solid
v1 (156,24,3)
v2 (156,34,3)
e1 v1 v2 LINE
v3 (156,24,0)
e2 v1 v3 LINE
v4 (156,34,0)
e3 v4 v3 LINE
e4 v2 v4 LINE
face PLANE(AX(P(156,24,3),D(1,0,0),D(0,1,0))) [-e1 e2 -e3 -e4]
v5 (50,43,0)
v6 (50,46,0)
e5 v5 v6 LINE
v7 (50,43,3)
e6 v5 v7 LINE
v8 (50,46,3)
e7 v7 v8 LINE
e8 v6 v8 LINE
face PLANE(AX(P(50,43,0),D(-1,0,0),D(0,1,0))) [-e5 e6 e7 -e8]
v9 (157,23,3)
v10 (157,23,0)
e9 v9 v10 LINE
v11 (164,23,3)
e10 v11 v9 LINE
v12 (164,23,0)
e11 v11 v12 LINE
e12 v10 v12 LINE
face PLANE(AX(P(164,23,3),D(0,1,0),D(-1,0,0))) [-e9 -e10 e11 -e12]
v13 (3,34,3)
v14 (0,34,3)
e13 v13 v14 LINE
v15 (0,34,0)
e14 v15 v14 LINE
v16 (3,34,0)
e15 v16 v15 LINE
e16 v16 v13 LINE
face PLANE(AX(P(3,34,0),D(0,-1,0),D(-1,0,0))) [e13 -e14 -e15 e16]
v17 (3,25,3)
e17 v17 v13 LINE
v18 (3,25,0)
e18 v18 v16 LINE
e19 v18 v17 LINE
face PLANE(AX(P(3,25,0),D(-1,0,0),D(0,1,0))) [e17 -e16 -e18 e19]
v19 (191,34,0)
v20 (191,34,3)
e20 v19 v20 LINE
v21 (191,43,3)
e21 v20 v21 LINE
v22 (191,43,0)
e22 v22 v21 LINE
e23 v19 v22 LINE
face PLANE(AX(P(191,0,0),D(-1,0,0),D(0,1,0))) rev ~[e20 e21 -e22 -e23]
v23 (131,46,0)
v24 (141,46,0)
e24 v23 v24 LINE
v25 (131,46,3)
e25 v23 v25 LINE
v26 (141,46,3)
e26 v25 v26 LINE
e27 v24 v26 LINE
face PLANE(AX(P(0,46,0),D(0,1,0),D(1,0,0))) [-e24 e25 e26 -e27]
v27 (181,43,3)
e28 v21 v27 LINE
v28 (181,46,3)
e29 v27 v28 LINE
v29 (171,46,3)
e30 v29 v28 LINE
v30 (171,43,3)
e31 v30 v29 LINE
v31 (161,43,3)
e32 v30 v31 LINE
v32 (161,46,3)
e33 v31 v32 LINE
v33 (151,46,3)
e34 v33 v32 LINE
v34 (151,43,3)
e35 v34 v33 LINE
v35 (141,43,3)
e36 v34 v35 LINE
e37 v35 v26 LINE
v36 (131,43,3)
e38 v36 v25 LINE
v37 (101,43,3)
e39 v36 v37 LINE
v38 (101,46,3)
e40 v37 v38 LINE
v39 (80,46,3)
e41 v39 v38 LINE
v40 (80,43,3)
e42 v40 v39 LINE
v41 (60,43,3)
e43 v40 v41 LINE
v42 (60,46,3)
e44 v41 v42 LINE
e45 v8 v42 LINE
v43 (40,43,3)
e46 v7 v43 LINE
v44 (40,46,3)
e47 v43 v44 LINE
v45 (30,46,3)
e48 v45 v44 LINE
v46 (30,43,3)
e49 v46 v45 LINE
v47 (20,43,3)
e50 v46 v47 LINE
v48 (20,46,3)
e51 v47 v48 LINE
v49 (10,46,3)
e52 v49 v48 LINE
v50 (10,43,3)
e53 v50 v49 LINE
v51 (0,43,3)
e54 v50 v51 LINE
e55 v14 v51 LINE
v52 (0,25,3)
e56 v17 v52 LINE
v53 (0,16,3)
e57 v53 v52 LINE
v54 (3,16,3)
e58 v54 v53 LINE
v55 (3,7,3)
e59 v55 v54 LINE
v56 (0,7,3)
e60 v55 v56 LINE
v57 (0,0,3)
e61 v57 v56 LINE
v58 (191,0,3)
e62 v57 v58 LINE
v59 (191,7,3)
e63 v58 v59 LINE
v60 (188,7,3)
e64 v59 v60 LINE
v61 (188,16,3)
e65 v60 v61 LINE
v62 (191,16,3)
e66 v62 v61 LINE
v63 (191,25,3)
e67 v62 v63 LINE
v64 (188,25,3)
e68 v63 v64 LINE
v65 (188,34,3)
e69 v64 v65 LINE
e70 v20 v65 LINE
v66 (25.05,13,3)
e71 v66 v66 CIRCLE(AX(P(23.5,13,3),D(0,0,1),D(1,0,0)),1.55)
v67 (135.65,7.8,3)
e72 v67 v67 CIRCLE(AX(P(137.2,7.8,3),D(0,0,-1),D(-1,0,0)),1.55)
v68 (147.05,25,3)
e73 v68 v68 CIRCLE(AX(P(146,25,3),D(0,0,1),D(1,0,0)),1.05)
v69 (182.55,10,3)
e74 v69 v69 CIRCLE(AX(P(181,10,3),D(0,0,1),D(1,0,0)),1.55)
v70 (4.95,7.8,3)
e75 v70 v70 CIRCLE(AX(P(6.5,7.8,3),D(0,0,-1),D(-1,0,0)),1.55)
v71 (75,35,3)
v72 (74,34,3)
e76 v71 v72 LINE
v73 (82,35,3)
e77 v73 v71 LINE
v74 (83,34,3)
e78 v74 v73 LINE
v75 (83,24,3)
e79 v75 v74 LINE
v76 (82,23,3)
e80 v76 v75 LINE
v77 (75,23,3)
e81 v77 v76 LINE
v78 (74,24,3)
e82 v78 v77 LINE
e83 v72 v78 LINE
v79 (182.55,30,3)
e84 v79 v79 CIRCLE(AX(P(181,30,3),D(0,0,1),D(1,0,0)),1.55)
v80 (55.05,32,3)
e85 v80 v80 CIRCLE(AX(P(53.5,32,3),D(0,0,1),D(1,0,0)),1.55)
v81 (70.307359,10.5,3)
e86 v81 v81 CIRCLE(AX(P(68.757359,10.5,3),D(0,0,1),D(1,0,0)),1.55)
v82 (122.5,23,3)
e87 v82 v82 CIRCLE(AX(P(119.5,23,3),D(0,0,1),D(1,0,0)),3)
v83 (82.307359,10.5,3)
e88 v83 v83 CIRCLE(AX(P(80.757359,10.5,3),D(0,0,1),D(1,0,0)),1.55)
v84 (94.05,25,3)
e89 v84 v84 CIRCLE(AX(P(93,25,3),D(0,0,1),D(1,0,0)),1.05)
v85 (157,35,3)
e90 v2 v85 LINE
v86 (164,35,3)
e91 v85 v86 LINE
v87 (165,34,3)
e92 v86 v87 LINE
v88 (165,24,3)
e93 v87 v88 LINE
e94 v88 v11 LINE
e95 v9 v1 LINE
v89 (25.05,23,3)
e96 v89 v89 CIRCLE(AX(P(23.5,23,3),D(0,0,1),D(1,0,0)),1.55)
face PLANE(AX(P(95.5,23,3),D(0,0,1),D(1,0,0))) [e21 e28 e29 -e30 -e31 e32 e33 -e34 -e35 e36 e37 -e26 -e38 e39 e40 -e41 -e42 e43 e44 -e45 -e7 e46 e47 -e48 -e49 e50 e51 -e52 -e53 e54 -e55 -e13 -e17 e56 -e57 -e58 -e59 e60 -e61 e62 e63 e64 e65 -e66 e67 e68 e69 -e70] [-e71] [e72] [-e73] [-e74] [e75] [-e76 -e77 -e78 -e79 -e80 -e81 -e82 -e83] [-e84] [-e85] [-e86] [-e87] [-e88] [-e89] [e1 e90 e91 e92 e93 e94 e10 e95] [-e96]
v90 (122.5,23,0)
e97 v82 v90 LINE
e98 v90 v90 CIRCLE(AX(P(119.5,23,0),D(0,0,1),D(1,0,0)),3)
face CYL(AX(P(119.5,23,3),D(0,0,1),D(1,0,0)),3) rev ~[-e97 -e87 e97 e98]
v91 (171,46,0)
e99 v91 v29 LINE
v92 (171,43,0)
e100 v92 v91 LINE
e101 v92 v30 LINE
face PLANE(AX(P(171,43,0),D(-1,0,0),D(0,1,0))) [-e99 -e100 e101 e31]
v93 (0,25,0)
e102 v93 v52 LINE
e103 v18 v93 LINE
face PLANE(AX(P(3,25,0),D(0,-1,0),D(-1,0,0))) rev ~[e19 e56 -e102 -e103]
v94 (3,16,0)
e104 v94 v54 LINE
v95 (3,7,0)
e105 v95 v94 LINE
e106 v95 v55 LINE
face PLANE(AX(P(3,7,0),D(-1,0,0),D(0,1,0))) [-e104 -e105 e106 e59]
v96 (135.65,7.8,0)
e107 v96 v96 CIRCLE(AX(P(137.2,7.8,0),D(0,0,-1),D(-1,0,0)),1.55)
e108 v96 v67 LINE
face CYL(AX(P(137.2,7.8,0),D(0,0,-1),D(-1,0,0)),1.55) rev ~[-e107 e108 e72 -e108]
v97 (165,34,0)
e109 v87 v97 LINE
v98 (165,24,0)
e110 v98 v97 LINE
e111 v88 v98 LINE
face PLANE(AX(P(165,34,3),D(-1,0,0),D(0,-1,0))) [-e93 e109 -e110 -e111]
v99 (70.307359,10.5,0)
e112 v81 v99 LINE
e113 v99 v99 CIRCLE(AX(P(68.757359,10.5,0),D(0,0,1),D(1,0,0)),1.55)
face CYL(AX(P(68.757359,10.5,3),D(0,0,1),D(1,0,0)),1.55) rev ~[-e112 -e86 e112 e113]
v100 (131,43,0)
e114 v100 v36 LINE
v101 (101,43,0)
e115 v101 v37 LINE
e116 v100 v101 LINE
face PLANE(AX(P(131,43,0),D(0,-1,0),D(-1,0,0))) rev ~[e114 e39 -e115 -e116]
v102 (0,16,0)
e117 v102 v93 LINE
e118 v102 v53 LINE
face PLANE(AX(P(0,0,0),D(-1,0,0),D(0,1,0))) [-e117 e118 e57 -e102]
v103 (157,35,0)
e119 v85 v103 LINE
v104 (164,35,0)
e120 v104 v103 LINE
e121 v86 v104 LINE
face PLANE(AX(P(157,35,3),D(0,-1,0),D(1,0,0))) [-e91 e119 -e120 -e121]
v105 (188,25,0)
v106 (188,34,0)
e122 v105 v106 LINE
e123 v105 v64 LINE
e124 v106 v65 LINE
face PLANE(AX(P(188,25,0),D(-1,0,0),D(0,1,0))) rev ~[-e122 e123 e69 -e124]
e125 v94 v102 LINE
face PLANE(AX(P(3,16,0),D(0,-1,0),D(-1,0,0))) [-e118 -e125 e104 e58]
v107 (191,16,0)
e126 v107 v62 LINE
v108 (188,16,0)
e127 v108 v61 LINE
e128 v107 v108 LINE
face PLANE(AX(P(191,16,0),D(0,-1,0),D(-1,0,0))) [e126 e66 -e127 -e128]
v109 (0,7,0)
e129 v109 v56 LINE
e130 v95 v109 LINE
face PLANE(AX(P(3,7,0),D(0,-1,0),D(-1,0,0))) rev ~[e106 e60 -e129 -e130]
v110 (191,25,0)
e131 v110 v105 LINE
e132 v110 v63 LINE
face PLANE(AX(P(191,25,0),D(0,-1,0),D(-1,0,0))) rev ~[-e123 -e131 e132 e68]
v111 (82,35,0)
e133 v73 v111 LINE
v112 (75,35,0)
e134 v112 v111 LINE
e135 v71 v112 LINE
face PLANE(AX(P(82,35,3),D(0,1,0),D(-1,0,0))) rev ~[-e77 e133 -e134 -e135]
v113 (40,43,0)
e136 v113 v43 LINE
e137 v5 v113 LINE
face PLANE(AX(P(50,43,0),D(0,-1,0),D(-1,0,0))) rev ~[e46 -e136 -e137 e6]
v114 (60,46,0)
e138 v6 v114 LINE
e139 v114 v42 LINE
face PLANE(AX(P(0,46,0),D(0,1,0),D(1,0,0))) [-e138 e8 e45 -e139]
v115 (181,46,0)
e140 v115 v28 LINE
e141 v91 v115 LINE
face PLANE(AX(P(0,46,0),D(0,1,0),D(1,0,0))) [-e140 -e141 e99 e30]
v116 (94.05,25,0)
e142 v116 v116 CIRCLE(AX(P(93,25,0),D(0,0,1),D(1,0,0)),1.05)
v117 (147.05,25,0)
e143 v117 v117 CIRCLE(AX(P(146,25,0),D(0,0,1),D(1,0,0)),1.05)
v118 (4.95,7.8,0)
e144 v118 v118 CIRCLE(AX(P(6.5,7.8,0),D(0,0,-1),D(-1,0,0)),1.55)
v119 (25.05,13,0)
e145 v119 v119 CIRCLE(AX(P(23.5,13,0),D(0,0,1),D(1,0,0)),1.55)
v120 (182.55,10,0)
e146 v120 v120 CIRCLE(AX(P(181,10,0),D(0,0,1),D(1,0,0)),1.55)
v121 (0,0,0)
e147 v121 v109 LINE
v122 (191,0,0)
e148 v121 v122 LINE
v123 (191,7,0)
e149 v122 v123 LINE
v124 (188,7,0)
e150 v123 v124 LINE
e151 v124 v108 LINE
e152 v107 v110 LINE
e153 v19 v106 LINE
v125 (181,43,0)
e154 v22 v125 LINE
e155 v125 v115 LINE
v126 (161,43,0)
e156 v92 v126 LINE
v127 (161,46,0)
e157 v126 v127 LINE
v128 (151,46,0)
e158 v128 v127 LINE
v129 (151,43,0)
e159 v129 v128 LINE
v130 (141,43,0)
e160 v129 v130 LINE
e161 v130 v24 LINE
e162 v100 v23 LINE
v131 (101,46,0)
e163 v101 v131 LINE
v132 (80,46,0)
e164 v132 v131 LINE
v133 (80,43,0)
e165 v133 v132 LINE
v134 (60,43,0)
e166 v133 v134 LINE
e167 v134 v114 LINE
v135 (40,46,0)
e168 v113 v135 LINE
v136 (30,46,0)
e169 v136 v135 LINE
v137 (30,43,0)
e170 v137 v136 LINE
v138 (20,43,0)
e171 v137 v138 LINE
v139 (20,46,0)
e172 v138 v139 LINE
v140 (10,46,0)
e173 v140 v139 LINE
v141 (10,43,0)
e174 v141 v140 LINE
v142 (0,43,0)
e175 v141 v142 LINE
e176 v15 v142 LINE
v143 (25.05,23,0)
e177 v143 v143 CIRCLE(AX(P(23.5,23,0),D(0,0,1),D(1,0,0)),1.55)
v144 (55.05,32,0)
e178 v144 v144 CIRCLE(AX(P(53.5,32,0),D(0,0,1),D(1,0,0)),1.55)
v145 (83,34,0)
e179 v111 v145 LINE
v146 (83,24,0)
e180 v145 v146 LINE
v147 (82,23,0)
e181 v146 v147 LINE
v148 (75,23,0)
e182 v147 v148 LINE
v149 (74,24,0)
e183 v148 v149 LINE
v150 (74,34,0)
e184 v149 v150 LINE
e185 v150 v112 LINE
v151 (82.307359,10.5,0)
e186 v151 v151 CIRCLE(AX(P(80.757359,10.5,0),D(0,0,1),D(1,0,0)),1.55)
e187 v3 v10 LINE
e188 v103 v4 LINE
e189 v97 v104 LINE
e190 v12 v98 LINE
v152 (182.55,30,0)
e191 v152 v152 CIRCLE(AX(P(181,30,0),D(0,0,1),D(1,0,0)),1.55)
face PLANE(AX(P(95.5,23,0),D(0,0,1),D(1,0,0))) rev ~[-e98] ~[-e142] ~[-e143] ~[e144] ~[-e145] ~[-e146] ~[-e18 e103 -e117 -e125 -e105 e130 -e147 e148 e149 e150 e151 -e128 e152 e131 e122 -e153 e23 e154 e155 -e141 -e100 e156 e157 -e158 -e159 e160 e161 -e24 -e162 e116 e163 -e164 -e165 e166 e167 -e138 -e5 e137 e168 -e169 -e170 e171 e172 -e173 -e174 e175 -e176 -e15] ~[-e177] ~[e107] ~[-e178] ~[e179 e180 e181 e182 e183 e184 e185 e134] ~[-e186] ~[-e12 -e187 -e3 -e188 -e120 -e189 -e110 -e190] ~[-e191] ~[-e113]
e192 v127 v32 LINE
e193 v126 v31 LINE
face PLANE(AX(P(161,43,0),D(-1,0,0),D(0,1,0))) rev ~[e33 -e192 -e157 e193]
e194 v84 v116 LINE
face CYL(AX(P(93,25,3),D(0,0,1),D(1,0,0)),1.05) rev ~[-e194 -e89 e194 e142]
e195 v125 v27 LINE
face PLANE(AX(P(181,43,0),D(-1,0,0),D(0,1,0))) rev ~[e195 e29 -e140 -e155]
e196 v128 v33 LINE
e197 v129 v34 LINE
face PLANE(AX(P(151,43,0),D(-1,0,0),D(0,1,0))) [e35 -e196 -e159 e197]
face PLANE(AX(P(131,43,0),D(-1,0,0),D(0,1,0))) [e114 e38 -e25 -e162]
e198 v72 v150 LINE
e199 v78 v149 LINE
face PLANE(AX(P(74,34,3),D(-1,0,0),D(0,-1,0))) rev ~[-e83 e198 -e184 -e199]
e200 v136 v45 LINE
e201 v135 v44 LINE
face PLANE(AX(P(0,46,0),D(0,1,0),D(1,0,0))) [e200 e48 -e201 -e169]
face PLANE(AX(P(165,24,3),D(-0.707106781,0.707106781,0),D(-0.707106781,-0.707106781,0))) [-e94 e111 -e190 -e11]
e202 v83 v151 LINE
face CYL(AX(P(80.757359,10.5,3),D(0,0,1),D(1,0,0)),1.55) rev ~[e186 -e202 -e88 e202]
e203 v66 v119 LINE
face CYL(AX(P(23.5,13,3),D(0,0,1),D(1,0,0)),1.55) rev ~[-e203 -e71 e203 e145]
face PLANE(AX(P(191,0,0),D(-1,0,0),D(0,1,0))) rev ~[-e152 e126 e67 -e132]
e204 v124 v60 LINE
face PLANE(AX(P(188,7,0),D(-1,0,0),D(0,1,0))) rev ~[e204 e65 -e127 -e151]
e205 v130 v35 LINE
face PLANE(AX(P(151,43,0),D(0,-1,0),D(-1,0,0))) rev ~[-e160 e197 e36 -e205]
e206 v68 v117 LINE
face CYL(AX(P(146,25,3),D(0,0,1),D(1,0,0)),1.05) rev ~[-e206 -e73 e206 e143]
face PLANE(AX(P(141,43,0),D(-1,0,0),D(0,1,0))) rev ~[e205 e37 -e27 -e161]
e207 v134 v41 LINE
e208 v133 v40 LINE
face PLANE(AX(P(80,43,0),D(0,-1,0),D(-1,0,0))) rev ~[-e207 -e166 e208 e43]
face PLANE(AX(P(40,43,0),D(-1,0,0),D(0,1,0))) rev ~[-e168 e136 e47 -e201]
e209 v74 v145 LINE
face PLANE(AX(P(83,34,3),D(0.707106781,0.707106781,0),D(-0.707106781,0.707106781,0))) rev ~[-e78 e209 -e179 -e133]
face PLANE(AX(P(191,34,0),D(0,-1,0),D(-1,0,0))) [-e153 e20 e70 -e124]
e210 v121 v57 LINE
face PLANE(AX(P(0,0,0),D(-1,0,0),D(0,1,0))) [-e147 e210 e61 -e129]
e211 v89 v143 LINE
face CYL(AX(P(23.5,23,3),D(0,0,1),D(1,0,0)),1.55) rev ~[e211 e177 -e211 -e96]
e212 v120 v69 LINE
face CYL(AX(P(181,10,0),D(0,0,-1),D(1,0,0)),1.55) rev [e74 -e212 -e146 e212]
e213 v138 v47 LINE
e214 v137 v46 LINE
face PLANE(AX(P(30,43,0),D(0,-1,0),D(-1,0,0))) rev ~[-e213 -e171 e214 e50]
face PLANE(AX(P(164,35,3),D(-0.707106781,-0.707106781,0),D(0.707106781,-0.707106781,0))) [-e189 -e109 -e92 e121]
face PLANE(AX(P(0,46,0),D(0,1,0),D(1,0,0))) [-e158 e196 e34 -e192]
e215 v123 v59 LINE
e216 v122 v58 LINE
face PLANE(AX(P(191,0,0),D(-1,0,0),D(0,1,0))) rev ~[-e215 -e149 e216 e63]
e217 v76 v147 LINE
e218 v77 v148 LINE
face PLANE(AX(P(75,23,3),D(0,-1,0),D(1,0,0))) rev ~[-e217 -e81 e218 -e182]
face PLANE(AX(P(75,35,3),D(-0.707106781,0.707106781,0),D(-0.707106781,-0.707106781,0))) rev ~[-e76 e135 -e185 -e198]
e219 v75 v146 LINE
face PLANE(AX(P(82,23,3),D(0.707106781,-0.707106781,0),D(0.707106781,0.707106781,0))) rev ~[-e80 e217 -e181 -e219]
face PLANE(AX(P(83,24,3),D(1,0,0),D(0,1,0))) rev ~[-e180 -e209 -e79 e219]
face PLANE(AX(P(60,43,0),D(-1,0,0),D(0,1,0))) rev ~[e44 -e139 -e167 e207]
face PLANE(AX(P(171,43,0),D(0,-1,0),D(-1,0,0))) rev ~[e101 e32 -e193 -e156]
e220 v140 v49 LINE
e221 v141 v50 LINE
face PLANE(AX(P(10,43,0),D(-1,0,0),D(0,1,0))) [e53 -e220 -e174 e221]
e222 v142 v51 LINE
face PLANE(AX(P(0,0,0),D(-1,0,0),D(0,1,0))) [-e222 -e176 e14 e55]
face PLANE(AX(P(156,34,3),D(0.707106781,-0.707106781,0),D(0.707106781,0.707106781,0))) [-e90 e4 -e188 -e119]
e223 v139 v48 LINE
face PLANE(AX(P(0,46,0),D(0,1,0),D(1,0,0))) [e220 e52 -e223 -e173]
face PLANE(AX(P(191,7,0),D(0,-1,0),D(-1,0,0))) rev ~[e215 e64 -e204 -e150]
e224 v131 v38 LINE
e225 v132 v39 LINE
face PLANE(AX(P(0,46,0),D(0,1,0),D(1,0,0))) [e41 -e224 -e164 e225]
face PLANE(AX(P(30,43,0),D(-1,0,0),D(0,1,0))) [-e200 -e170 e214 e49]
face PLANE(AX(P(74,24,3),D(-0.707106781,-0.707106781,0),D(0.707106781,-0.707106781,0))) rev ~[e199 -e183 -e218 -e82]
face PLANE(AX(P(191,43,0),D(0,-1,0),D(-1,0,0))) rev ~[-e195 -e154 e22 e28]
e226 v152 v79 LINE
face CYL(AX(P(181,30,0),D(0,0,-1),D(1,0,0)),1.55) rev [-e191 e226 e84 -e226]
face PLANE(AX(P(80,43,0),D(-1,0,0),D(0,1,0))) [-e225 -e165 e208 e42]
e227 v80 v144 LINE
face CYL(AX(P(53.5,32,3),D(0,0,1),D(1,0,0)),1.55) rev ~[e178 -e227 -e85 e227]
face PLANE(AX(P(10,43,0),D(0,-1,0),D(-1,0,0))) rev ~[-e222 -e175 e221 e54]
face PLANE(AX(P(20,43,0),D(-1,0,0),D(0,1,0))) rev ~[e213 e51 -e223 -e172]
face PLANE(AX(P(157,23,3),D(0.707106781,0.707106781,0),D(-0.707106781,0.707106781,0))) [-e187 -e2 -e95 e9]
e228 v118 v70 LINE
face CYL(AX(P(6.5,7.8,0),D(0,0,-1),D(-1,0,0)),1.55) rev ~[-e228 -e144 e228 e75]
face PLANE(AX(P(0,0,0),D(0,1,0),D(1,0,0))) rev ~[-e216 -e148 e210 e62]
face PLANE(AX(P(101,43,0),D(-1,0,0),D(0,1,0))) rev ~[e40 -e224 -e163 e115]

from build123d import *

# Parameters (mm, degrees)
SKETCH1_W           = 191
SKETCH1_H           = 46
SKETCH1_R           = 1.549999948
BOSS_EXTRUDE1_DEPTH = 3
CUT_EXTRUDE1_REACH  = 5
SKETCH4_W           = 10
SKETCH4_H           = 3
SKETCH4_W_2         = 20
SKETCH4_W_3         = 30
CUT_EXTRUDE2_REACH  = 5
SKETCH5_W           = 3
SKETCH5_H           = 9
CUT_EXTRUDE3_REACH  = 5
SKETCH6_W           = 3
SKETCH6_H           = 9
CUT_EXTRUDE4_REACH  = 5
SKETCH7_R           = 3
CUT_EXTRUDE5_REACH  = 5
SKETCH8_R           = 1.55
CUT_EXTRUDE6_REACH  = 5
SKETCH9_R           = 1.55
CUT_EXTRUDE7_REACH  = 5
SKETCH10_R          = 1.05
CUT_EXTRUDE8_REACH  = 5
SKETCH11_R          = 1.05


with BuildPart() as part:
    # Sketch1 → Boss-Extrude1 (new body)
    with BuildSketch(Plane.XY):
        with Locations((95.5, 23)):
            Rectangle(SKETCH1_W, SKETCH1_H)
        with Locations((181, 30)):
            Circle(SKETCH1_R, mode=Mode.SUBTRACT)
        with Locations((181, 10)):
            Circle(SKETCH1_R, mode=Mode.SUBTRACT)
    extrude(amount=BOSS_EXTRUDE1_DEPTH)

    # Sketch4 → Cut-Extrude1 (cut, up to next)
    with BuildSketch(Plane(origin=(0, 0, 0), x_dir=(-1, 0, 0), z_dir=(0, 0, -1)), mode=Mode.PRIVATE) as cut_extrude1_sk1:
        with Locations((-5, 44.5)):
            Rectangle(SKETCH4_W, SKETCH4_H)
    cut_extrude1_tool1 = extrude(cut_extrude1_sk1.sketch, amount=-CUT_EXTRUDE1_REACH, mode=Mode.PRIVATE) & part.part
    add(cut_extrude1_tool1.solids().sort_by_distance((5, 44.5, 0))[0], mode=Mode.SUBTRACT)
    # Sketch4 → Cut-Extrude1 (cut, up to next)
    with BuildSketch(Plane(origin=(0, 0, 0), x_dir=(-1, 0, 0), z_dir=(0, 0, -1)), mode=Mode.PRIVATE) as cut_extrude1_sk2:
        with Locations((-25, 44.5)):
            Rectangle(SKETCH4_W, SKETCH4_H)
    cut_extrude1_tool2 = extrude(cut_extrude1_sk2.sketch, amount=-CUT_EXTRUDE1_REACH, mode=Mode.PRIVATE) & part.part
    add(cut_extrude1_tool2.solids().sort_by_distance((25, 44.5, 0))[0], mode=Mode.SUBTRACT)
    # Sketch4 → Cut-Extrude1 (cut, up to next)
    with BuildSketch(Plane(origin=(0, 0, 0), x_dir=(-1, 0, 0), z_dir=(0, 0, -1)), mode=Mode.PRIVATE) as cut_extrude1_sk3:
        with Locations((-45, 44.5)):
            Rectangle(SKETCH4_W, SKETCH4_H)
    cut_extrude1_tool3 = extrude(cut_extrude1_sk3.sketch, amount=-CUT_EXTRUDE1_REACH, mode=Mode.PRIVATE) & part.part
    add(cut_extrude1_tool3.solids().sort_by_distance((45, 44.5, 0))[0], mode=Mode.SUBTRACT)
    # Sketch4 → Cut-Extrude1 (cut, up to next)
    with BuildSketch(Plane(origin=(0, 0, 0), x_dir=(-1, 0, 0), z_dir=(0, 0, -1)), mode=Mode.PRIVATE) as cut_extrude1_sk4:
        with Locations((-70, 44.5)):
            Rectangle(SKETCH4_W_2, SKETCH4_H)
    cut_extrude1_tool4 = extrude(cut_extrude1_sk4.sketch, amount=-CUT_EXTRUDE1_REACH, mode=Mode.PRIVATE) & part.part
    add(cut_extrude1_tool4.solids().sort_by_distance((70, 44.5, 0))[0], mode=Mode.SUBTRACT)
    # Sketch4 → Cut-Extrude1 (cut, up to next)
    with BuildSketch(Plane(origin=(0, 0, 0), x_dir=(-1, 0, 0), z_dir=(0, 0, -1)), mode=Mode.PRIVATE) as cut_extrude1_sk5:
        with Locations((-116, 44.5)):
            Rectangle(SKETCH4_W_3, SKETCH4_H)
    cut_extrude1_tool5 = extrude(cut_extrude1_sk5.sketch, amount=-CUT_EXTRUDE1_REACH, mode=Mode.PRIVATE) & part.part
    add(cut_extrude1_tool5.solids().sort_by_distance((116, 44.5, 0))[0], mode=Mode.SUBTRACT)
    # Sketch4 → Cut-Extrude1 (cut, up to next)
    with BuildSketch(Plane(origin=(0, 0, 0), x_dir=(-1, 0, 0), z_dir=(0, 0, -1)), mode=Mode.PRIVATE) as cut_extrude1_sk6:
        with Locations((-146, 44.5)):
            Rectangle(SKETCH4_W, SKETCH4_H)
    cut_extrude1_tool6 = extrude(cut_extrude1_sk6.sketch, amount=-CUT_EXTRUDE1_REACH, mode=Mode.PRIVATE) & part.part
    add(cut_extrude1_tool6.solids().sort_by_distance((146, 44.5, 0))[0], mode=Mode.SUBTRACT)
    # Sketch4 → Cut-Extrude1 (cut, up to next)
    with BuildSketch(Plane(origin=(0, 0, 0), x_dir=(-1, 0, 0), z_dir=(0, 0, -1)), mode=Mode.PRIVATE) as cut_extrude1_sk7:
        with Locations((-166, 44.5)):
            Rectangle(SKETCH4_W, SKETCH4_H)
    cut_extrude1_tool7 = extrude(cut_extrude1_sk7.sketch, amount=-CUT_EXTRUDE1_REACH, mode=Mode.PRIVATE) & part.part
    add(cut_extrude1_tool7.solids().sort_by_distance((166, 44.5, 0))[0], mode=Mode.SUBTRACT)
    # Sketch4 → Cut-Extrude1 (cut, up to next)
    with BuildSketch(Plane(origin=(0, 0, 0), x_dir=(-1, 0, 0), z_dir=(0, 0, -1)), mode=Mode.PRIVATE) as cut_extrude1_sk8:
        with Locations((-186, 44.5)):
            Rectangle(SKETCH4_W, SKETCH4_H)
    cut_extrude1_tool8 = extrude(cut_extrude1_sk8.sketch, amount=-CUT_EXTRUDE1_REACH, mode=Mode.PRIVATE) & part.part
    add(cut_extrude1_tool8.solids().sort_by_distance((186, 44.5, 0))[0], mode=Mode.SUBTRACT)

    # Sketch5 → Cut-Extrude2 (cut, up to next)
    with BuildSketch(Plane(origin=(0, 0, 0), x_dir=(-1, 0, 0), z_dir=(0, 0, -1)), mode=Mode.PRIVATE) as cut_extrude2_sk1:
        with Locations((-1.5, 29.5)):
            Rectangle(SKETCH5_W, SKETCH5_H)
    cut_extrude2_tool1 = extrude(cut_extrude2_sk1.sketch, amount=-CUT_EXTRUDE2_REACH, mode=Mode.PRIVATE) & part.part
    add(cut_extrude2_tool1.solids().sort_by_distance((1.5, 29.5, 0))[0], mode=Mode.SUBTRACT)
    # Sketch5 → Cut-Extrude2 (cut, up to next)
    with BuildSketch(Plane(origin=(0, 0, 0), x_dir=(-1, 0, 0), z_dir=(0, 0, -1)), mode=Mode.PRIVATE) as cut_extrude2_sk2:
        with Locations((-1.5, 11.5)):
            Rectangle(SKETCH5_W, SKETCH5_H)
    cut_extrude2_tool2 = extrude(cut_extrude2_sk2.sketch, amount=-CUT_EXTRUDE2_REACH, mode=Mode.PRIVATE) & part.part
    add(cut_extrude2_tool2.solids().sort_by_distance((1.5, 11.5, 0))[0], mode=Mode.SUBTRACT)

    # Sketch6 → Cut-Extrude3 (cut, up to next)
    with BuildSketch(Plane(origin=(0, 0, 0), x_dir=(-1, 0, 0), z_dir=(0, 0, -1)), mode=Mode.PRIVATE) as cut_extrude3_sk1:
        with Locations((-189.5, 29.5)):
            Rectangle(SKETCH6_W, SKETCH6_H)
    cut_extrude3_tool1 = extrude(cut_extrude3_sk1.sketch, amount=-CUT_EXTRUDE3_REACH, mode=Mode.PRIVATE) & part.part
    add(cut_extrude3_tool1.solids().sort_by_distance((189.5, 29.5, 0))[0], mode=Mode.SUBTRACT)
    # Sketch6 → Cut-Extrude3 (cut, up to next)
    with BuildSketch(Plane(origin=(0, 0, 0), x_dir=(-1, 0, 0), z_dir=(0, 0, -1)), mode=Mode.PRIVATE) as cut_extrude3_sk2:
        with Locations((-189.5, 11.5)):
            Rectangle(SKETCH6_W, SKETCH6_H)
    cut_extrude3_tool2 = extrude(cut_extrude3_sk2.sketch, amount=-CUT_EXTRUDE3_REACH, mode=Mode.PRIVATE) & part.part
    add(cut_extrude3_tool2.solids().sort_by_distance((189.5, 11.5, 0))[0], mode=Mode.SUBTRACT)

    # Sketch7 → Cut-Extrude4 (cut, up to next)
    with BuildSketch(Plane.XY.offset(3), mode=Mode.PRIVATE) as cut_extrude4_sk1:
        with Locations((119.5, 23)):
            Circle(SKETCH7_R)
    cut_extrude4_tool1 = extrude(cut_extrude4_sk1.sketch, amount=-CUT_EXTRUDE4_REACH, mode=Mode.PRIVATE) & part.part
    add(cut_extrude4_tool1.solids().sort_by_distance((119.5, 23, 3))[0], mode=Mode.SUBTRACT)

    # Sketch8 → Cut-Extrude5 (cut, up to next)
    with BuildSketch(Plane.XY.offset(3), mode=Mode.PRIVATE) as cut_extrude5_sk1:
        with Locations((23.5, 13)):
            Circle(SKETCH8_R)
    cut_extrude5_tool1 = extrude(cut_extrude5_sk1.sketch, amount=-CUT_EXTRUDE5_REACH, mode=Mode.PRIVATE) & part.part
    add(cut_extrude5_tool1.solids().sort_by_distance((23.5, 13, 3))[0], mode=Mode.SUBTRACT)
    # Sketch8 → Cut-Extrude5 (cut, up to next)
    with BuildSketch(Plane.XY.offset(3), mode=Mode.PRIVATE) as cut_extrude5_sk2:
        with Locations((23.5, 23)):
            Circle(SKETCH8_R)
    cut_extrude5_tool2 = extrude(cut_extrude5_sk2.sketch, amount=-CUT_EXTRUDE5_REACH, mode=Mode.PRIVATE) & part.part
    add(cut_extrude5_tool2.solids().sort_by_distance((23.5, 23, 3))[0], mode=Mode.SUBTRACT)
    # Sketch8 → Cut-Extrude5 (cut, up to next)
    with BuildSketch(Plane.XY.offset(3), mode=Mode.PRIVATE) as cut_extrude5_sk3:
        with Locations((53.5, 32)):
            Circle(SKETCH8_R)
    cut_extrude5_tool3 = extrude(cut_extrude5_sk3.sketch, amount=-CUT_EXTRUDE5_REACH, mode=Mode.PRIVATE) & part.part
    add(cut_extrude5_tool3.solids().sort_by_distance((53.5, 32, 3))[0], mode=Mode.SUBTRACT)
    # Sketch8 → Cut-Extrude5 (cut, up to next)
    with BuildSketch(Plane.XY.offset(3), mode=Mode.PRIVATE) as cut_extrude5_sk4:
        with Locations((68.757359313, 10.5)):
            Circle(SKETCH8_R)
    cut_extrude5_tool4 = extrude(cut_extrude5_sk4.sketch, amount=-CUT_EXTRUDE5_REACH, mode=Mode.PRIVATE) & part.part
    add(cut_extrude5_tool4.solids().sort_by_distance((68.757359, 10.5, 3))[0], mode=Mode.SUBTRACT)
    # Sketch8 → Cut-Extrude5 (cut, up to next)
    with BuildSketch(Plane.XY.offset(3), mode=Mode.PRIVATE) as cut_extrude5_sk5:
        with Locations((80.757359313, 10.5)):
            Circle(SKETCH8_R)
    cut_extrude5_tool5 = extrude(cut_extrude5_sk5.sketch, amount=-CUT_EXTRUDE5_REACH, mode=Mode.PRIVATE) & part.part
    add(cut_extrude5_tool5.solids().sort_by_distance((80.757359, 10.5, 3))[0], mode=Mode.SUBTRACT)

    # Sketch9 → Cut-Extrude6 (cut, up to next)
    with BuildSketch(Plane(origin=(0, 0, 0), x_dir=(-1, 0, 0), z_dir=(0, 0, -1)), mode=Mode.PRIVATE) as cut_extrude6_sk1:
        with Locations((-137.2, 7.8)):
            Circle(SKETCH9_R)
    cut_extrude6_tool1 = extrude(cut_extrude6_sk1.sketch, amount=-CUT_EXTRUDE6_REACH, mode=Mode.PRIVATE) & part.part
    add(cut_extrude6_tool1.solids().sort_by_distance((137.2, 7.8, 0))[0], mode=Mode.SUBTRACT)
    # Sketch9 → Cut-Extrude6 (cut, up to next)
    with BuildSketch(Plane(origin=(0, 0, 0), x_dir=(-1, 0, 0), z_dir=(0, 0, -1)), mode=Mode.PRIVATE) as cut_extrude6_sk2:
        with Locations((-6.5, 7.8)):
            Circle(SKETCH9_R)
    cut_extrude6_tool2 = extrude(cut_extrude6_sk2.sketch, amount=-CUT_EXTRUDE6_REACH, mode=Mode.PRIVATE) & part.part
    add(cut_extrude6_tool2.solids().sort_by_distance((6.5, 7.8, 0))[0], mode=Mode.SUBTRACT)

    # Sketch10 → Cut-Extrude7 (cut, up to next)
    with BuildSketch(Plane.XY.offset(3), mode=Mode.PRIVATE) as cut_extrude7_sk1:
        with Locations((93, 25)):
            Circle(SKETCH10_R)
    cut_extrude7_tool1 = extrude(cut_extrude7_sk1.sketch, amount=-CUT_EXTRUDE7_REACH, mode=Mode.PRIVATE) & part.part
    add(cut_extrude7_tool1.solids().sort_by_distance((93, 25, 3))[0], mode=Mode.SUBTRACT)
    # Sketch10 → Cut-Extrude7 (cut, up to next)
    with BuildSketch(Plane.XY.offset(3), mode=Mode.PRIVATE) as cut_extrude7_sk2:
        Polygon((83, 24), (83, 34), (82, 35), (75, 35), (74, 34), (74, 24), (75, 23), (82, 23), align=None)
    cut_extrude7_tool2 = extrude(cut_extrude7_sk2.sketch, amount=-CUT_EXTRUDE7_REACH, mode=Mode.PRIVATE) & part.part
    add(cut_extrude7_tool2.solids().sort_by_distance((78.5, 29, 3))[0], mode=Mode.SUBTRACT)

    # Sketch11 → Cut-Extrude8 (cut, up to next)
    with BuildSketch(Plane.XY.offset(3), mode=Mode.PRIVATE) as cut_extrude8_sk1:
        Polygon((164, 23), (157, 23), (156, 24), (156, 34), (157, 35), (164, 35), (165, 34), (165, 24), align=None)
    cut_extrude8_tool1 = extrude(cut_extrude8_sk1.sketch, amount=-CUT_EXTRUDE8_REACH, mode=Mode.PRIVATE) & part.part
    add(cut_extrude8_tool1.solids().sort_by_distance((160.5, 29, 3))[0], mode=Mode.SUBTRACT)
    # Sketch11 → Cut-Extrude8 (cut, up to next)
    with BuildSketch(Plane.XY.offset(3), mode=Mode.PRIVATE) as cut_extrude8_sk2:
        with Locations((146, 25)):
            Circle(SKETCH11_R)
    cut_extrude8_tool2 = extrude(cut_extrude8_sk2.sketch, amount=-CUT_EXTRUDE8_REACH, mode=Mode.PRIVATE) & part.part
    add(cut_extrude8_tool2.solids().sort_by_distance((146, 25, 3))[0], mode=Mode.SUBTRACT)


solid = part.part
